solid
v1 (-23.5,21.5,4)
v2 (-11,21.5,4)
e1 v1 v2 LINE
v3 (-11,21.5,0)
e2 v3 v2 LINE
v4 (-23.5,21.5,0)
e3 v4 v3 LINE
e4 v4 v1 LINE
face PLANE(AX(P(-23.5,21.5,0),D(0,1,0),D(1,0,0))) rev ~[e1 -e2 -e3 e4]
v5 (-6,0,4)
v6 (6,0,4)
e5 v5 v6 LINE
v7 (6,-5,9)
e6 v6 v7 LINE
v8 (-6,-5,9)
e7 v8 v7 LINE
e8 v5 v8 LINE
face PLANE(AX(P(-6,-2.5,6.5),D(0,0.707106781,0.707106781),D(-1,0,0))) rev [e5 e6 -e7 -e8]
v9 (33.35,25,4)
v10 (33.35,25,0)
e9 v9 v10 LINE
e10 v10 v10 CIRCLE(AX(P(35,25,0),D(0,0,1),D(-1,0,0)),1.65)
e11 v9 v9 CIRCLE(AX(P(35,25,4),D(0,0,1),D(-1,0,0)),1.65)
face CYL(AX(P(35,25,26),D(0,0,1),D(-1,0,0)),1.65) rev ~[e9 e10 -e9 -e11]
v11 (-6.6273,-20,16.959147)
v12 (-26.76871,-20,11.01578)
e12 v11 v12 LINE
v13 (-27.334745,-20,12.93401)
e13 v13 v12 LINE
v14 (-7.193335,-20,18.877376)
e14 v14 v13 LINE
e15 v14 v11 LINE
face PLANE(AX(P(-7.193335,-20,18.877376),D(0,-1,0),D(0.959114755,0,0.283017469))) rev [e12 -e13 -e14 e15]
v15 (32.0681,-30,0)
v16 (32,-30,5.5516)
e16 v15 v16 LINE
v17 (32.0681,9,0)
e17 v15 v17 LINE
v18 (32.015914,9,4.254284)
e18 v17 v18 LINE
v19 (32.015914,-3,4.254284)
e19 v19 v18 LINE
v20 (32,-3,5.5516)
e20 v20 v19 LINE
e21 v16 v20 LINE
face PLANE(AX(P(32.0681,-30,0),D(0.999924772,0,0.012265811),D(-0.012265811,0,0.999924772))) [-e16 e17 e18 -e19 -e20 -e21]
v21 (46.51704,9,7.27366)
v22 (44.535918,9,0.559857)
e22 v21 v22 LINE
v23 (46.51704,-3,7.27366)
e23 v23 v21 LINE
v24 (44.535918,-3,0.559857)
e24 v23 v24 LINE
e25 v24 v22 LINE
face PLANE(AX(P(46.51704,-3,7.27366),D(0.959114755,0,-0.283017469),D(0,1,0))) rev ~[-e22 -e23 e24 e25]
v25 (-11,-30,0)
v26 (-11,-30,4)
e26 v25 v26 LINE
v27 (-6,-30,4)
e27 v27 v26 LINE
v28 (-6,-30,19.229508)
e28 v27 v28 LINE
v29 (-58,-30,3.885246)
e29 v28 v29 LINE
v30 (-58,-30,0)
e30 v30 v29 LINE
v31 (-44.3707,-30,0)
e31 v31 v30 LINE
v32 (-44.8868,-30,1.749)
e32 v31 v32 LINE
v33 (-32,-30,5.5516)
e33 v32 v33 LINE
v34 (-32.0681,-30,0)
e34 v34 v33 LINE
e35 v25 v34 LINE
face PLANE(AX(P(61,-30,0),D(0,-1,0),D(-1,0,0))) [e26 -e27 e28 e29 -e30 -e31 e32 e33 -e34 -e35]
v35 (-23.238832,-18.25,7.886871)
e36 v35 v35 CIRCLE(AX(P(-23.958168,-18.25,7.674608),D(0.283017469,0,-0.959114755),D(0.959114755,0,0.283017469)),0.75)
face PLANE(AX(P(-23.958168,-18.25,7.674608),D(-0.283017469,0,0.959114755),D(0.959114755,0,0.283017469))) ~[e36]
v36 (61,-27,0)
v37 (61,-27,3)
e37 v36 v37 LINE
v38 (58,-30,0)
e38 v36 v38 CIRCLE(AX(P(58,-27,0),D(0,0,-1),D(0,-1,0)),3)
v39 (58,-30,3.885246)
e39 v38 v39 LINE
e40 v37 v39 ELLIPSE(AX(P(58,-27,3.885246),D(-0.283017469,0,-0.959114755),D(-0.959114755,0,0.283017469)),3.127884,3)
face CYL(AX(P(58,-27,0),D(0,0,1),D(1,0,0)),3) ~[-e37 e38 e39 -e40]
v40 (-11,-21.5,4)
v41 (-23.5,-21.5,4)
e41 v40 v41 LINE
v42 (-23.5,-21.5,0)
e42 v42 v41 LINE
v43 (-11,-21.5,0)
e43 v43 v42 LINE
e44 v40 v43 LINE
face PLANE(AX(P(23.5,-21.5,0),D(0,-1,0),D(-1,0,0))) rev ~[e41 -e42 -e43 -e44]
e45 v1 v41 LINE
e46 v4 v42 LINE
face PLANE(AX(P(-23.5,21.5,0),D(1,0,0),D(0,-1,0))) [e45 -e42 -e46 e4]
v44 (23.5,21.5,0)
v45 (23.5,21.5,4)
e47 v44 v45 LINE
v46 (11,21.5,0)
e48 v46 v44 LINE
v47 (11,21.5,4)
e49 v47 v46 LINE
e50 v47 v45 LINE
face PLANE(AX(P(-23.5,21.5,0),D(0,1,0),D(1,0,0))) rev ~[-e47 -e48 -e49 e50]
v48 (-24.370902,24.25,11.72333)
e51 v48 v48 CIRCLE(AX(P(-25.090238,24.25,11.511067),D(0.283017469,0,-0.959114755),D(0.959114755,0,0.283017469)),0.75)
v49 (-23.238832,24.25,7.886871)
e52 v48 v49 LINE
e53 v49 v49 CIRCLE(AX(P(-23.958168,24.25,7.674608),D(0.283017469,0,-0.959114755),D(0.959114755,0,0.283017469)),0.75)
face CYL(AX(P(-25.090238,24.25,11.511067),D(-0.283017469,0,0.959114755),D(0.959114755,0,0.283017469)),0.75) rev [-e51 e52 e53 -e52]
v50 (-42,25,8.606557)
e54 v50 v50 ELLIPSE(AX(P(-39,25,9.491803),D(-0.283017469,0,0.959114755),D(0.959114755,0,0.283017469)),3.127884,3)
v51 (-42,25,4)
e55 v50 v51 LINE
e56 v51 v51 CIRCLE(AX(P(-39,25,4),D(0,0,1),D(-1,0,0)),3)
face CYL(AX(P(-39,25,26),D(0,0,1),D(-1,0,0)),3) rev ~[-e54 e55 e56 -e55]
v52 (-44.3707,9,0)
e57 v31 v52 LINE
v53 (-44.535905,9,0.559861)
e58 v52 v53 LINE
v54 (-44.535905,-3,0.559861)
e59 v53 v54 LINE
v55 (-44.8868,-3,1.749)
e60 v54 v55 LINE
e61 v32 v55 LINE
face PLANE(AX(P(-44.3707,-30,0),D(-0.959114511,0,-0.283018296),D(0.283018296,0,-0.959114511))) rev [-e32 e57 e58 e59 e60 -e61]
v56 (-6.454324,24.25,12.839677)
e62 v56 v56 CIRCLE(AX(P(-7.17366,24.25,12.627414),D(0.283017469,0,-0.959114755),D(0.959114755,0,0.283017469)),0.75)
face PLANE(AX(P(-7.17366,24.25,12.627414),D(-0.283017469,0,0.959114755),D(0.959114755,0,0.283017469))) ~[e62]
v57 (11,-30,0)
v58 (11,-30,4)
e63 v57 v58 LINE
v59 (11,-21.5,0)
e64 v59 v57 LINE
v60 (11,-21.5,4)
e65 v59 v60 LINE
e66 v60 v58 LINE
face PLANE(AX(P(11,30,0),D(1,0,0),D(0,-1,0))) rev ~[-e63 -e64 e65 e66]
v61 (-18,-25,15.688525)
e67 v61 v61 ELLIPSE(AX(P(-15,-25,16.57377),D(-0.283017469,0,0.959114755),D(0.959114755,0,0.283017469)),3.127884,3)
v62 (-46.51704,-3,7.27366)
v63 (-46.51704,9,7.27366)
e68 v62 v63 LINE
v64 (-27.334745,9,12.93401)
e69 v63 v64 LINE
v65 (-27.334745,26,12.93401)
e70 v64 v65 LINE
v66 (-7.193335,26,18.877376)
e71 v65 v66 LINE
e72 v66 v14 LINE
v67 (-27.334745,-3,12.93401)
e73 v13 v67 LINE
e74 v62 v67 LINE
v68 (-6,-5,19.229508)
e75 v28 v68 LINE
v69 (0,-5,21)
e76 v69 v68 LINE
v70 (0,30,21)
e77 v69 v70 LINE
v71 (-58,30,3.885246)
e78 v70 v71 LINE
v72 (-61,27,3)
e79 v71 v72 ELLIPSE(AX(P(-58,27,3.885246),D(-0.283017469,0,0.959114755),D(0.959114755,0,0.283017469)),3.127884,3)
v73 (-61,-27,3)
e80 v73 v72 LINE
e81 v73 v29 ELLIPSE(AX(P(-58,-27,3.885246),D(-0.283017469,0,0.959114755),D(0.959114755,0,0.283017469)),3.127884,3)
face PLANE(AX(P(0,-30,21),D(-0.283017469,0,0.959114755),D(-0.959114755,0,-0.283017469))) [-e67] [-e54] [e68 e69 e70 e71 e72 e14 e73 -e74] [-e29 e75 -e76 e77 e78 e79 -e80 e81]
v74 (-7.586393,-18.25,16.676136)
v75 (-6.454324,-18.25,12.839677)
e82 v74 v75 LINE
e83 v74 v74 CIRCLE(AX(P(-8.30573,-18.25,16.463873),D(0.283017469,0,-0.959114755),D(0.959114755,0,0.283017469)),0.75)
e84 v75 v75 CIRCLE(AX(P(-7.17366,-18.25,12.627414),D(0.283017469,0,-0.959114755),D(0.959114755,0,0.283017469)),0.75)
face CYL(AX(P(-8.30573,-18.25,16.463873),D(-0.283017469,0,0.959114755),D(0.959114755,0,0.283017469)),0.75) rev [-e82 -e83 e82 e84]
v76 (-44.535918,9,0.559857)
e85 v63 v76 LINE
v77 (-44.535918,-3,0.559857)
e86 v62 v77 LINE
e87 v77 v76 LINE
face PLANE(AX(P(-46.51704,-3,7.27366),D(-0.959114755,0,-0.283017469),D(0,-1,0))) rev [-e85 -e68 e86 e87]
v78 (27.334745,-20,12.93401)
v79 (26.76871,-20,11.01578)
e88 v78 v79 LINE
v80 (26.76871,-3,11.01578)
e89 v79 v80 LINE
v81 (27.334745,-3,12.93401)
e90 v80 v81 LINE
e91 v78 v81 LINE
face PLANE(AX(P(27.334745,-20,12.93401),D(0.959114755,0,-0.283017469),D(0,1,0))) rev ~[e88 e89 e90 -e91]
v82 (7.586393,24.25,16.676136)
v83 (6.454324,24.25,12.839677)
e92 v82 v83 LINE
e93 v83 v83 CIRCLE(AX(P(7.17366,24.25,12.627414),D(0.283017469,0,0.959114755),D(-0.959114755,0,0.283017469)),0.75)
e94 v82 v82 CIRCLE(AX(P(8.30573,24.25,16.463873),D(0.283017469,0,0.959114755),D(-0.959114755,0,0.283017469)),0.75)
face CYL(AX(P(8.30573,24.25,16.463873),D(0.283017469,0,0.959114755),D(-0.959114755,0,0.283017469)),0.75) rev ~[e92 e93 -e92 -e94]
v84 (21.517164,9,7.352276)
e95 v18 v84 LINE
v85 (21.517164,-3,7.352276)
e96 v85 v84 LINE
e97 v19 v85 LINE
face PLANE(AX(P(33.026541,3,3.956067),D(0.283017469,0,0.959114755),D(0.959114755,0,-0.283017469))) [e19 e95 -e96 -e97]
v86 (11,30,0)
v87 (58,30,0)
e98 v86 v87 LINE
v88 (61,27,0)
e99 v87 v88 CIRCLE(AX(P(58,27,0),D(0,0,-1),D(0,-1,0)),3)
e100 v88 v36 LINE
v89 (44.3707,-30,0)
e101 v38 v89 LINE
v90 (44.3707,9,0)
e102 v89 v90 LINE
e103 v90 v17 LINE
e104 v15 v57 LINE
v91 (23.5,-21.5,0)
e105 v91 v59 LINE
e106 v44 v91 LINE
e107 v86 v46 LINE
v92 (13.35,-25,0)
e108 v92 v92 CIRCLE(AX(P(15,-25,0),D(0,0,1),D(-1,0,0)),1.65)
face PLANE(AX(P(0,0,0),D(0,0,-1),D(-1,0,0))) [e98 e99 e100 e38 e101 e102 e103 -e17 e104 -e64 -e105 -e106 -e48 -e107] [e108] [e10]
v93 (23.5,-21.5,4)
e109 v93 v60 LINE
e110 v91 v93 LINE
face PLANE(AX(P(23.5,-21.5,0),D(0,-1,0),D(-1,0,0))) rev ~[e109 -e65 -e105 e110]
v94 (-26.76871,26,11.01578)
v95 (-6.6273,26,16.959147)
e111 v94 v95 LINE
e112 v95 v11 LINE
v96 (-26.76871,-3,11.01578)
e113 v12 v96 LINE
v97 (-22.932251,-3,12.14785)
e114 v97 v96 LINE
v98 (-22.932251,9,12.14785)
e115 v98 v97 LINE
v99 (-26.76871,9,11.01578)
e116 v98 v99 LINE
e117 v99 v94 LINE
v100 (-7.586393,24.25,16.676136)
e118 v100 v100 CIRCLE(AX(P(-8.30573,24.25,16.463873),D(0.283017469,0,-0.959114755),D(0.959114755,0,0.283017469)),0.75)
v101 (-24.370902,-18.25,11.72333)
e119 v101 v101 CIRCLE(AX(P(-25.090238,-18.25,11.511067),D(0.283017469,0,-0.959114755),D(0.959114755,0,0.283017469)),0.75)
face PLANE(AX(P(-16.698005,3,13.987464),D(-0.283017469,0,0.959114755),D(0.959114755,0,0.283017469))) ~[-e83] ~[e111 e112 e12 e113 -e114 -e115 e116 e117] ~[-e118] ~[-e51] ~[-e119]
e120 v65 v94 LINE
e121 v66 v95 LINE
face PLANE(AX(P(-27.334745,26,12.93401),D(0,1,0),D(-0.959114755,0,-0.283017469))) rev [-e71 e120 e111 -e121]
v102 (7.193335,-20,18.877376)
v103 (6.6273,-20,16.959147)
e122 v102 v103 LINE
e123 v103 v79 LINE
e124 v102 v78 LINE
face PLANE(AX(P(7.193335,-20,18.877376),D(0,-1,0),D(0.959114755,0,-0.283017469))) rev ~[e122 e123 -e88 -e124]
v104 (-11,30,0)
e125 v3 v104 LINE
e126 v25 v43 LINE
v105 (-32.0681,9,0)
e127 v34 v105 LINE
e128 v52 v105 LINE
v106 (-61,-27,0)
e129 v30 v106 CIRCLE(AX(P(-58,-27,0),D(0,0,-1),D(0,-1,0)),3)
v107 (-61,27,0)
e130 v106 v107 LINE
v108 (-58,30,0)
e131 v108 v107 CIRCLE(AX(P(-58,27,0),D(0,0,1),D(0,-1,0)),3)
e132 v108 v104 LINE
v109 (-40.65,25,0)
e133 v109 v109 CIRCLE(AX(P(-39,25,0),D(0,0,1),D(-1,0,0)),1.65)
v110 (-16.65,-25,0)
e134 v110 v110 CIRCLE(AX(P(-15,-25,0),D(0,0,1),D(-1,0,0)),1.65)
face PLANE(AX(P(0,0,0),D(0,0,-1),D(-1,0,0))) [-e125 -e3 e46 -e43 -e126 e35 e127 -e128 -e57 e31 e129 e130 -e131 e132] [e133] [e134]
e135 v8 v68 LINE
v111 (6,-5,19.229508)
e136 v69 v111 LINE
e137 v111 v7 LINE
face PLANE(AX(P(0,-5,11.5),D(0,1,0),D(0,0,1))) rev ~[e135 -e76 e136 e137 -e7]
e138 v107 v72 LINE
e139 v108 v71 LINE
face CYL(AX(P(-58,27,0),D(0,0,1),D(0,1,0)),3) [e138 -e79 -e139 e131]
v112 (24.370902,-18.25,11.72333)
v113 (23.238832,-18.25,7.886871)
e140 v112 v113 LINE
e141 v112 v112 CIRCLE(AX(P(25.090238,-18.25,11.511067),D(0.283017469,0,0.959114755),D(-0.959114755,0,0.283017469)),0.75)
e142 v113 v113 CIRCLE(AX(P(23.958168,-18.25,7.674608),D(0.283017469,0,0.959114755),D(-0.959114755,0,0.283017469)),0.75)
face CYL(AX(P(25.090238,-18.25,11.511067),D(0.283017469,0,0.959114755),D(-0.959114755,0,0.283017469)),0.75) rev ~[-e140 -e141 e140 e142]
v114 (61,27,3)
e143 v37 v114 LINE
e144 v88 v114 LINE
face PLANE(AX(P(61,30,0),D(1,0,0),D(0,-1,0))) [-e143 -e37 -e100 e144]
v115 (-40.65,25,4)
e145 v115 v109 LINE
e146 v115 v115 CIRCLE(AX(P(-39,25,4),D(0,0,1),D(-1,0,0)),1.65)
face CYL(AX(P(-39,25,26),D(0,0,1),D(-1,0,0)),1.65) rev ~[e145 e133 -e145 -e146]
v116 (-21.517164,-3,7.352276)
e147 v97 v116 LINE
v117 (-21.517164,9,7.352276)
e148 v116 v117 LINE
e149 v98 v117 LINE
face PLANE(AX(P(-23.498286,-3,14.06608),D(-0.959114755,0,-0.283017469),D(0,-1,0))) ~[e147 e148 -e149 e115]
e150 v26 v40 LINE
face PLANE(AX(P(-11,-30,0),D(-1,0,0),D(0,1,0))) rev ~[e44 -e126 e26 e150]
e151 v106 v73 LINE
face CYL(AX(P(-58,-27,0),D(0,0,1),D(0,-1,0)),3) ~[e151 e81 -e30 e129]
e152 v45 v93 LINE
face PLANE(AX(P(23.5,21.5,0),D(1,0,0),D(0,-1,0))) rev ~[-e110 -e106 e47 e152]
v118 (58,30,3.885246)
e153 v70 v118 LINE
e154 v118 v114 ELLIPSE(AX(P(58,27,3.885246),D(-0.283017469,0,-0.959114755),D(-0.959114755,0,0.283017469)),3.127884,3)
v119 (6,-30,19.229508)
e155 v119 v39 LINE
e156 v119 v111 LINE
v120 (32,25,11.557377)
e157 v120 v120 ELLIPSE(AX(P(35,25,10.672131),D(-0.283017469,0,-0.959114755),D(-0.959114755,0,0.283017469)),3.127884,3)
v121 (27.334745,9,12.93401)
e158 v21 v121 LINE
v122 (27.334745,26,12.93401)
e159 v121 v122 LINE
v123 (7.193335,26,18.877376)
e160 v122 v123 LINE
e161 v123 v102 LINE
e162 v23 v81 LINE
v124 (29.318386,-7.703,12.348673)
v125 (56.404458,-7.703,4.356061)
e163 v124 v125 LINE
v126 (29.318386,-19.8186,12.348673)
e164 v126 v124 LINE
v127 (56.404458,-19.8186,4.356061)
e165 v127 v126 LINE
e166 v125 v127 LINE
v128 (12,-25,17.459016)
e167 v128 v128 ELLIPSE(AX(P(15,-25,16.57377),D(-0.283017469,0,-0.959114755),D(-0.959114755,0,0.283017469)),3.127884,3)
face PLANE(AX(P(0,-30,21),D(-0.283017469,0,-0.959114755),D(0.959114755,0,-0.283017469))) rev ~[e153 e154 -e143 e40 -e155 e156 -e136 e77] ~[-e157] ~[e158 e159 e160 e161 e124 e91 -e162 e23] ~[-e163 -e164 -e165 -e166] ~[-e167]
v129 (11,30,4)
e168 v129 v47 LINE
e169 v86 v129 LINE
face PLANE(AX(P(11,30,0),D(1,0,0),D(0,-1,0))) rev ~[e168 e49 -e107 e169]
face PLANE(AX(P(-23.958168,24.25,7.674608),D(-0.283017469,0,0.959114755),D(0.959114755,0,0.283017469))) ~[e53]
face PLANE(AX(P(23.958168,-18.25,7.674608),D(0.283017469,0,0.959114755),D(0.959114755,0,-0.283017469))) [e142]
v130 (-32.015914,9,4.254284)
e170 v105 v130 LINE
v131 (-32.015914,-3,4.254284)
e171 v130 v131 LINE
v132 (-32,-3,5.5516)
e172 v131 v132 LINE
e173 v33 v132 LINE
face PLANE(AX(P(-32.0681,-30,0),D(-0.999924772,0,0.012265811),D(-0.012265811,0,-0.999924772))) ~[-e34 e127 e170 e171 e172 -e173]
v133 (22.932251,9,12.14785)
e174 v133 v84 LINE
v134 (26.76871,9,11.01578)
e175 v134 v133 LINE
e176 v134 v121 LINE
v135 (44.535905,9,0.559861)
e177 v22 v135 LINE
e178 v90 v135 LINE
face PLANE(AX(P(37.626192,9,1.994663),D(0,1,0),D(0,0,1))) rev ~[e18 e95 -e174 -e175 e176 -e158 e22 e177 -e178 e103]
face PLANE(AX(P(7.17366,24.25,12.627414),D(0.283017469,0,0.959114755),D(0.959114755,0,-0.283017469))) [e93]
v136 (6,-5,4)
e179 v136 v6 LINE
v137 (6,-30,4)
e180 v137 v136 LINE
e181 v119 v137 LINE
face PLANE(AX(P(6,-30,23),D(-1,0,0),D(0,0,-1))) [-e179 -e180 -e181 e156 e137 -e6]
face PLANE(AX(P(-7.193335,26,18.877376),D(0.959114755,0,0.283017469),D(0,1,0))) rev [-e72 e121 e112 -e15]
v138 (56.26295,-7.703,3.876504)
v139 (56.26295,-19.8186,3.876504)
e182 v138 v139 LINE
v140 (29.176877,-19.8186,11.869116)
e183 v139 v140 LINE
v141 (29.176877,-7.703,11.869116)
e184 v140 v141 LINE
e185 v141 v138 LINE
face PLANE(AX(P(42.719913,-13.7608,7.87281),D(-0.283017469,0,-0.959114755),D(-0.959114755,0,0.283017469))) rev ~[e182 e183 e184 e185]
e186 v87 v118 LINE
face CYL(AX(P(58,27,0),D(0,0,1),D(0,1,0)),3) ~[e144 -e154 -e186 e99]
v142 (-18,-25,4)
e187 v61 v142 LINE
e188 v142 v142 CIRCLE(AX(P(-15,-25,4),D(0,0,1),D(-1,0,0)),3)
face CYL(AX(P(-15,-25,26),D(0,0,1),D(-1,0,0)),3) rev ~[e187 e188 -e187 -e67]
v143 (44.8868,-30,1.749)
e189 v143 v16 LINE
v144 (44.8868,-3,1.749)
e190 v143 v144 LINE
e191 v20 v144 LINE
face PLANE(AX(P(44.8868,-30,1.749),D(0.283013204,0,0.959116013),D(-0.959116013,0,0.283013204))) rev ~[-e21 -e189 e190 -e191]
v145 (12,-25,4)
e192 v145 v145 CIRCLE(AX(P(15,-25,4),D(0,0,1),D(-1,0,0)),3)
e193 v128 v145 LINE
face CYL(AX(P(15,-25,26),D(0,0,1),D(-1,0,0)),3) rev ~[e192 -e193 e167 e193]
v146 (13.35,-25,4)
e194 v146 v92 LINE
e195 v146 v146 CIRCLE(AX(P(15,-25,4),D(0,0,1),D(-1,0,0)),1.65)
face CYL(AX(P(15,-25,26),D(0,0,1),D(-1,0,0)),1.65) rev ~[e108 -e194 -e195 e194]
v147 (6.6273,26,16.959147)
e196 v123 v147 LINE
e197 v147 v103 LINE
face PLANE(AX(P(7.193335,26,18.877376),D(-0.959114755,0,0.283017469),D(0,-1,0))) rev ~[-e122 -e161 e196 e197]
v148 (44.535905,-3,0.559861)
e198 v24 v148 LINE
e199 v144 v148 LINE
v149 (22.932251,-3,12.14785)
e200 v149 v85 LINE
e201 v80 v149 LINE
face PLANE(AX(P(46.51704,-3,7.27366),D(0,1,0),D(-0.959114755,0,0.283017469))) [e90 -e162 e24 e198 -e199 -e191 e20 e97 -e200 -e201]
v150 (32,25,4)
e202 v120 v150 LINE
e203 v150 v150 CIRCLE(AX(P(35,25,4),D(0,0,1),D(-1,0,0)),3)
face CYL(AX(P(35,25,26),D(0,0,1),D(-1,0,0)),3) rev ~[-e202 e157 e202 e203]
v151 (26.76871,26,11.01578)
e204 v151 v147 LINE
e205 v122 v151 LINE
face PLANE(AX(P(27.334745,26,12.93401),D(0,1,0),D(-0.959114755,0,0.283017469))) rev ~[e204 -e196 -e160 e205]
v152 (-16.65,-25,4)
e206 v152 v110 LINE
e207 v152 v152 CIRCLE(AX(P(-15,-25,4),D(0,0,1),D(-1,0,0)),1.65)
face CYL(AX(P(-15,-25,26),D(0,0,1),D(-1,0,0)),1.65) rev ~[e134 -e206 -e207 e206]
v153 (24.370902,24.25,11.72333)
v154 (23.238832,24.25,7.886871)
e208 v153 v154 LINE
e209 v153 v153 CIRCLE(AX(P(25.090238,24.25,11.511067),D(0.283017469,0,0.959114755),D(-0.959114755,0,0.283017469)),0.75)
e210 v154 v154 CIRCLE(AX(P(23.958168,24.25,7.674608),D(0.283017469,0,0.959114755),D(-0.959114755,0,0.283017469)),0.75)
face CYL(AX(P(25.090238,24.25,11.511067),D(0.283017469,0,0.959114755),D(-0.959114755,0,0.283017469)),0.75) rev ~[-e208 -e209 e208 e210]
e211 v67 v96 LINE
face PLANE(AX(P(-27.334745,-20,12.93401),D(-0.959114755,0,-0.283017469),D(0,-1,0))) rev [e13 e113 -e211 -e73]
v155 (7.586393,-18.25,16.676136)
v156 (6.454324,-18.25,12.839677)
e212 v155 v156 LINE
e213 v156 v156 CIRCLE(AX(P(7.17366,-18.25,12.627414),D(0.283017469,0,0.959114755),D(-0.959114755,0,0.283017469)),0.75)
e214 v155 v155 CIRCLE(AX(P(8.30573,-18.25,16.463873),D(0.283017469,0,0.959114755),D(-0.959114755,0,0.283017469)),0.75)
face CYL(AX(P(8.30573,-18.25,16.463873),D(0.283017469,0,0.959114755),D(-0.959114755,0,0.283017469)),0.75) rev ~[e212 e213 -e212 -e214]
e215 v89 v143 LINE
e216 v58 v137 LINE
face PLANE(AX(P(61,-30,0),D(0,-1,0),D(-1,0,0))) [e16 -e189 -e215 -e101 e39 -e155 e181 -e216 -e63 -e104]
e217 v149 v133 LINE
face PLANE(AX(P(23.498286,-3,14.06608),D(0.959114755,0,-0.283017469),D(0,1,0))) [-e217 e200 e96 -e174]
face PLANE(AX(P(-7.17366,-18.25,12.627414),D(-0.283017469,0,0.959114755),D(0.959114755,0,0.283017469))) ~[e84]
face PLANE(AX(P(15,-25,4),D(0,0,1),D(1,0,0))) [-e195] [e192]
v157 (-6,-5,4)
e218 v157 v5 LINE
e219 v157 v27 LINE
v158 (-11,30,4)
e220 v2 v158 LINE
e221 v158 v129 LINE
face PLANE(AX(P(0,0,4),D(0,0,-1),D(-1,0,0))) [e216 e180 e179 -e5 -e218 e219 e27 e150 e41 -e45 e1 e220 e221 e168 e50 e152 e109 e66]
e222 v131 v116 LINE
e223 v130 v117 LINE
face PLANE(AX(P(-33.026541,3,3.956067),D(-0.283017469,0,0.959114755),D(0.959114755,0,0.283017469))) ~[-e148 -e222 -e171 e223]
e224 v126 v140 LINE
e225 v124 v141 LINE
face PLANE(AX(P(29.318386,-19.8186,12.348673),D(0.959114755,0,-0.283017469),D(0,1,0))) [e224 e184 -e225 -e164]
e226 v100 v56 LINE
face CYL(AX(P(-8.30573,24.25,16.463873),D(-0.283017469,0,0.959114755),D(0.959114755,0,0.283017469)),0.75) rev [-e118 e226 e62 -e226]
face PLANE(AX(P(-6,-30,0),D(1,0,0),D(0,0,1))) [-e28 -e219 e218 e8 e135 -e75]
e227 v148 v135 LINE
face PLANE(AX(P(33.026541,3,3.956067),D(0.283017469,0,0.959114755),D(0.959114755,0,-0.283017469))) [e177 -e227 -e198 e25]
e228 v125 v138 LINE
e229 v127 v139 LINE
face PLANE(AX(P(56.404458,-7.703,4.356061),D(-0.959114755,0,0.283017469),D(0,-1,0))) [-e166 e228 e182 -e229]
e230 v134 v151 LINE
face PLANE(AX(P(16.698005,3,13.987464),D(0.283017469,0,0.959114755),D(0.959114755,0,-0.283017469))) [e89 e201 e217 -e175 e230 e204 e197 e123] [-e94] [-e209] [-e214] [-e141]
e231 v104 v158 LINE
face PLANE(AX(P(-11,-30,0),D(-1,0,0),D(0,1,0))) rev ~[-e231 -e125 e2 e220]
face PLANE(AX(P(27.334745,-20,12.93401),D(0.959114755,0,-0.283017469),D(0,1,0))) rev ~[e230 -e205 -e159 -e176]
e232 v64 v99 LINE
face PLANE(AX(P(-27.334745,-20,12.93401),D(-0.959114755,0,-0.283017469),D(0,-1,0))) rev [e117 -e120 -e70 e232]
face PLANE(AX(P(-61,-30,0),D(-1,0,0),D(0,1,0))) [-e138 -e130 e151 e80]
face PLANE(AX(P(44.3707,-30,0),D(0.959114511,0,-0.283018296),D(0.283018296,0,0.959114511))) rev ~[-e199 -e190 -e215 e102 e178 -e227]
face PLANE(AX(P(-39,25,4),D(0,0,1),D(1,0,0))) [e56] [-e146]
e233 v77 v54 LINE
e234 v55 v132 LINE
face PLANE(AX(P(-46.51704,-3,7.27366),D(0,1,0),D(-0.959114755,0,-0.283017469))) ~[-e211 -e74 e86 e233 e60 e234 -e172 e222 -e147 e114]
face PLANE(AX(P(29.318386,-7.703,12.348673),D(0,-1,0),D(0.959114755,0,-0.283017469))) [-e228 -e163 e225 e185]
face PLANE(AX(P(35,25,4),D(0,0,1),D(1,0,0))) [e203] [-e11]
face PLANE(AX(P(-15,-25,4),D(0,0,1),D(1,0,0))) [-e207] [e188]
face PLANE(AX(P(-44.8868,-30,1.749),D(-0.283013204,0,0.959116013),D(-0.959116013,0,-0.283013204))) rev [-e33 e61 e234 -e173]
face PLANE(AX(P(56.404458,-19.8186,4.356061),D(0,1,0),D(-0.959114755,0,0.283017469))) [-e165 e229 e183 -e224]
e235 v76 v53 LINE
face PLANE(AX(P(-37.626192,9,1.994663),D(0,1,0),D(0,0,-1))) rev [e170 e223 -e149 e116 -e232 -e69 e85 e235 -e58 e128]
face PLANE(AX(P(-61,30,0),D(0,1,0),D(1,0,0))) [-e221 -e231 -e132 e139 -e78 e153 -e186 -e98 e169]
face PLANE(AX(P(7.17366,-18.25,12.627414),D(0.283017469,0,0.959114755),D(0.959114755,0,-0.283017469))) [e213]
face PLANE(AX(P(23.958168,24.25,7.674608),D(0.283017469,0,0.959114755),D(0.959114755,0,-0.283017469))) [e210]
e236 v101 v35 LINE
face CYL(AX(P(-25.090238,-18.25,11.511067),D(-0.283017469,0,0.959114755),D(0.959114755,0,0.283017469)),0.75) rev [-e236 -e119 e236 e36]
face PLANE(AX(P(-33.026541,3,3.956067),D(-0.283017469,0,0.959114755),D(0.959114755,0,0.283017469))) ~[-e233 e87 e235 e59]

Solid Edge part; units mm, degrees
sketch "Sketch1" plane through (0, 0, 0) normal (0, 0, 1) x (1, 0, 0)
  line L0 (-61, 30) -> (61, 30)
  line L1 (61, 30) -> (61, -30)
  line L2 (61, -30) -> (-61, -30)
  line L3 (-61, -30) -> (-61, 30)
  dimension "D1" = 122
  dimension "D2" = 60
extrude "Protrusion1" add sketch "Sketch1" along normal blind 26
fillet "Redondeo_1" radius 3 4 edges at (61, 30, 13) (61, -30, 13) (-61, -30, 13) (-61, 30, 13)
sketch "Sketch2" plane through (0, 0, 26) normal (0, 0, 1) x (-1, 0, 0)
  circle A0 centre (15, 25) radius 1.65
  circle A1 centre (39, -25) radius 1.65
  circle A2 centre (-35, -25) radius 1.65
  circle A3 centre (-15, 25) radius 1.65
  dimension "D1" = 30
  dimension "D2" = 15
  dimension "D3" = 39
  dimension "D4" = 35
  dimension "D5" = 5
  dimension "D6" = 5
extrude "Cutout1" cut sketch "Sketch2" against normal up to next
sketch "Sketch3" plane through (0, 0, 26) normal (0, 0, 1) x (-1, 0, 0)
  circle A0 centre (-15, 25) radius 3
  circle A1 centre (15, 25) radius 3
  circle A2 centre (-35, -25) radius 3
  circle A3 centre (39, -25) radius 3
extrude "VaciadoExtruido_30" cut sketch "Sketch3" against normal blind 22
sketch "Sketch4" plane through (0, -30, 13) normal (0, -1, 0) x (-1, 0, 0)
  line L0 (0, -8) -> (-61, 10)
  line L1 (0, -8) -> (61, 10)
  dimension "D1" = 5
  dimension "D2" = 3
  dimension "D3" = 3
extrude "Cutout2" cut sketch "Sketch4" against normal up to next material side at (30.5142, -30, 12.048)
sketch "Sketch5" plane through (31.3143, 0, 11.7597) normal (0.283, 0, 0.9591) x (-0.9591, 0, 0.283)
  line L0 (4.1492, 20) -> (4.1492, -26)
  line L1 (4.1492, -26) -> (25.1492, -26)
  line L2 (25.1492, -26) -> (25.1492, 20)
  line L3 (25.1492, 20) -> (4.1492, 20)
  dimension "D1" = 46
  dimension "D2" = 21
  dimension "D3" = 26
  dimension "D4" = 7.5
extrude "Cutout3" cut sketch "Sketch5" against normal blind 2
sketch "Sketch6" plane through (31.3143, 0, 11.7597) normal (0.283, 0, 0.9591) x (-0.9591, 0, 0.283)
  line L0 (-15.8508, 3) -> (-15.8508, -9)
  line L1 (-15.8508, -9) -> (8.1492, -9)
  line L2 (8.1492, 3) -> (8.1492, -9)
  line L3 (-15.8508, 3) -> (8.1492, 3)
  dimension "D1" = 12
  dimension "D2" = 24
  dimension "D3" = 4
  dimension "D4" = 23
extrude "VaciadoExtruido_32" cut sketch "Sketch6" against normal blind 7
sketch "Sketch7" plane through (16.0737, 3, 14.1717) normal (0.283, 0, 0.9591) x (-0.9591, 0, 0.283)
  circle A0 centre (-9.4009, 21.25) radius 0.75
  circle A1 centre (8.0991, 21.25) radius 0.75
  circle A2 centre (8.0991, -21.25) radius 0.75
  circle A3 centre (-9.4009, -21.25) radius 0.75
  dimension "D1" = 17.5
  dimension "D2" = 42.5
  dimension "D3" = 1.75
  dimension "D4" = 1.75
extrude "VaciadoExtruido_33" cut sketch "Sketch7" against normal blind 4
sketch "Sketch8" plane through (32, -30, 9.6148) normal (0, -1, 0) x (-1, 0, 0)
  line L0 (-12.3707, 9.6148) -> (-0.0681, 9.6148)
  line L1 (-0.0681, 9.6148) -> (0, 4.0632)
  line L2 (-12.8868, 7.8658) -> (0, 4.0632)
  line L3 (-12.3707, 9.6148) -> (-12.8868, 7.8658)
extrude "Cutout4" cut sketch "Sketch8" against normal up to surface (39 mm away)
mirror "Mirror1" about plane through (0, 0, 0) normal (1, 0, 0) of "Cutout3", "VaciadoExtruido_32", "VaciadoExtruido_33", "Cutout4"
sketch "Sketch9" plane through (31.3143, 0, 11.7597) normal (0.283, 0, 0.9591) x (-0.9591, 0, 0.283)
  line L0 (-26.1597, 19.8186) -> (2.081, 19.8186)
  line L1 (2.081, 19.8186) -> (2.081, 7.703)
  line L2 (2.081, 7.703) -> (-26.1597, 7.703)
  line L3 (-26.1597, 7.703) -> (-26.1597, 19.8186)
extrude "VaciadoExtruido_38" cut sketch "Sketch9" against normal blind 0.5
sketch "Sketch10" plane through (0, 0, 0) normal (0, 0, -1) x (1, 0, 0)
  line L0 (-23.5, -21.5) -> (-23.5, 21.5)
  line L1 (23.5, 21.5) -> (-23.5, 21.5)
  line L2 (23.5, -21.5) -> (23.5, 21.5)
  line L3 (-23.5, -21.5) -> (23.5, -21.5)
  dimension "D1" = 47
  dimension "D2" = 43
extrude "VaciadoExtruido_39" cut sketch "Sketch10" against normal blind 4
sketch "Sketch11" plane through (0, 0, 0) normal (0, 0, -1) x (1, 0, 0)
  line L0 (-11, 30) -> (-11, -30)
  line L1 (-11, -30) -> (11, -30)
  line L2 (11, -30) -> (11, 30)
  line L3 (11, 30) -> (-11, 30)
  dimension "D1" = 22
extrude "Cutout9" cut sketch "Sketch11" against normal up to surface (4 mm away)
sketch "Sketch12" plane through (0, -30, 9) normal (0, -1, 0) x (1, 0, 0)
  line L0 (-6, 14) -> (6, 14)
  line L1 (6, 14) -> (6, -9)
  line L2 (6, -9) -> (-6, -9)
  line L3 (-6, -9) -> (-6, 14)
  dimension "D1" = 12
  dimension "D2" = 23
extrude "VaciadoExtruido_41" cut sketch "Sketch12" against normal blind 25
chamfer "Chaflán_2" distance 5 angle 45 1 edges at (0, -5, 4)
properties material "Aluminum, 2024-T4"
